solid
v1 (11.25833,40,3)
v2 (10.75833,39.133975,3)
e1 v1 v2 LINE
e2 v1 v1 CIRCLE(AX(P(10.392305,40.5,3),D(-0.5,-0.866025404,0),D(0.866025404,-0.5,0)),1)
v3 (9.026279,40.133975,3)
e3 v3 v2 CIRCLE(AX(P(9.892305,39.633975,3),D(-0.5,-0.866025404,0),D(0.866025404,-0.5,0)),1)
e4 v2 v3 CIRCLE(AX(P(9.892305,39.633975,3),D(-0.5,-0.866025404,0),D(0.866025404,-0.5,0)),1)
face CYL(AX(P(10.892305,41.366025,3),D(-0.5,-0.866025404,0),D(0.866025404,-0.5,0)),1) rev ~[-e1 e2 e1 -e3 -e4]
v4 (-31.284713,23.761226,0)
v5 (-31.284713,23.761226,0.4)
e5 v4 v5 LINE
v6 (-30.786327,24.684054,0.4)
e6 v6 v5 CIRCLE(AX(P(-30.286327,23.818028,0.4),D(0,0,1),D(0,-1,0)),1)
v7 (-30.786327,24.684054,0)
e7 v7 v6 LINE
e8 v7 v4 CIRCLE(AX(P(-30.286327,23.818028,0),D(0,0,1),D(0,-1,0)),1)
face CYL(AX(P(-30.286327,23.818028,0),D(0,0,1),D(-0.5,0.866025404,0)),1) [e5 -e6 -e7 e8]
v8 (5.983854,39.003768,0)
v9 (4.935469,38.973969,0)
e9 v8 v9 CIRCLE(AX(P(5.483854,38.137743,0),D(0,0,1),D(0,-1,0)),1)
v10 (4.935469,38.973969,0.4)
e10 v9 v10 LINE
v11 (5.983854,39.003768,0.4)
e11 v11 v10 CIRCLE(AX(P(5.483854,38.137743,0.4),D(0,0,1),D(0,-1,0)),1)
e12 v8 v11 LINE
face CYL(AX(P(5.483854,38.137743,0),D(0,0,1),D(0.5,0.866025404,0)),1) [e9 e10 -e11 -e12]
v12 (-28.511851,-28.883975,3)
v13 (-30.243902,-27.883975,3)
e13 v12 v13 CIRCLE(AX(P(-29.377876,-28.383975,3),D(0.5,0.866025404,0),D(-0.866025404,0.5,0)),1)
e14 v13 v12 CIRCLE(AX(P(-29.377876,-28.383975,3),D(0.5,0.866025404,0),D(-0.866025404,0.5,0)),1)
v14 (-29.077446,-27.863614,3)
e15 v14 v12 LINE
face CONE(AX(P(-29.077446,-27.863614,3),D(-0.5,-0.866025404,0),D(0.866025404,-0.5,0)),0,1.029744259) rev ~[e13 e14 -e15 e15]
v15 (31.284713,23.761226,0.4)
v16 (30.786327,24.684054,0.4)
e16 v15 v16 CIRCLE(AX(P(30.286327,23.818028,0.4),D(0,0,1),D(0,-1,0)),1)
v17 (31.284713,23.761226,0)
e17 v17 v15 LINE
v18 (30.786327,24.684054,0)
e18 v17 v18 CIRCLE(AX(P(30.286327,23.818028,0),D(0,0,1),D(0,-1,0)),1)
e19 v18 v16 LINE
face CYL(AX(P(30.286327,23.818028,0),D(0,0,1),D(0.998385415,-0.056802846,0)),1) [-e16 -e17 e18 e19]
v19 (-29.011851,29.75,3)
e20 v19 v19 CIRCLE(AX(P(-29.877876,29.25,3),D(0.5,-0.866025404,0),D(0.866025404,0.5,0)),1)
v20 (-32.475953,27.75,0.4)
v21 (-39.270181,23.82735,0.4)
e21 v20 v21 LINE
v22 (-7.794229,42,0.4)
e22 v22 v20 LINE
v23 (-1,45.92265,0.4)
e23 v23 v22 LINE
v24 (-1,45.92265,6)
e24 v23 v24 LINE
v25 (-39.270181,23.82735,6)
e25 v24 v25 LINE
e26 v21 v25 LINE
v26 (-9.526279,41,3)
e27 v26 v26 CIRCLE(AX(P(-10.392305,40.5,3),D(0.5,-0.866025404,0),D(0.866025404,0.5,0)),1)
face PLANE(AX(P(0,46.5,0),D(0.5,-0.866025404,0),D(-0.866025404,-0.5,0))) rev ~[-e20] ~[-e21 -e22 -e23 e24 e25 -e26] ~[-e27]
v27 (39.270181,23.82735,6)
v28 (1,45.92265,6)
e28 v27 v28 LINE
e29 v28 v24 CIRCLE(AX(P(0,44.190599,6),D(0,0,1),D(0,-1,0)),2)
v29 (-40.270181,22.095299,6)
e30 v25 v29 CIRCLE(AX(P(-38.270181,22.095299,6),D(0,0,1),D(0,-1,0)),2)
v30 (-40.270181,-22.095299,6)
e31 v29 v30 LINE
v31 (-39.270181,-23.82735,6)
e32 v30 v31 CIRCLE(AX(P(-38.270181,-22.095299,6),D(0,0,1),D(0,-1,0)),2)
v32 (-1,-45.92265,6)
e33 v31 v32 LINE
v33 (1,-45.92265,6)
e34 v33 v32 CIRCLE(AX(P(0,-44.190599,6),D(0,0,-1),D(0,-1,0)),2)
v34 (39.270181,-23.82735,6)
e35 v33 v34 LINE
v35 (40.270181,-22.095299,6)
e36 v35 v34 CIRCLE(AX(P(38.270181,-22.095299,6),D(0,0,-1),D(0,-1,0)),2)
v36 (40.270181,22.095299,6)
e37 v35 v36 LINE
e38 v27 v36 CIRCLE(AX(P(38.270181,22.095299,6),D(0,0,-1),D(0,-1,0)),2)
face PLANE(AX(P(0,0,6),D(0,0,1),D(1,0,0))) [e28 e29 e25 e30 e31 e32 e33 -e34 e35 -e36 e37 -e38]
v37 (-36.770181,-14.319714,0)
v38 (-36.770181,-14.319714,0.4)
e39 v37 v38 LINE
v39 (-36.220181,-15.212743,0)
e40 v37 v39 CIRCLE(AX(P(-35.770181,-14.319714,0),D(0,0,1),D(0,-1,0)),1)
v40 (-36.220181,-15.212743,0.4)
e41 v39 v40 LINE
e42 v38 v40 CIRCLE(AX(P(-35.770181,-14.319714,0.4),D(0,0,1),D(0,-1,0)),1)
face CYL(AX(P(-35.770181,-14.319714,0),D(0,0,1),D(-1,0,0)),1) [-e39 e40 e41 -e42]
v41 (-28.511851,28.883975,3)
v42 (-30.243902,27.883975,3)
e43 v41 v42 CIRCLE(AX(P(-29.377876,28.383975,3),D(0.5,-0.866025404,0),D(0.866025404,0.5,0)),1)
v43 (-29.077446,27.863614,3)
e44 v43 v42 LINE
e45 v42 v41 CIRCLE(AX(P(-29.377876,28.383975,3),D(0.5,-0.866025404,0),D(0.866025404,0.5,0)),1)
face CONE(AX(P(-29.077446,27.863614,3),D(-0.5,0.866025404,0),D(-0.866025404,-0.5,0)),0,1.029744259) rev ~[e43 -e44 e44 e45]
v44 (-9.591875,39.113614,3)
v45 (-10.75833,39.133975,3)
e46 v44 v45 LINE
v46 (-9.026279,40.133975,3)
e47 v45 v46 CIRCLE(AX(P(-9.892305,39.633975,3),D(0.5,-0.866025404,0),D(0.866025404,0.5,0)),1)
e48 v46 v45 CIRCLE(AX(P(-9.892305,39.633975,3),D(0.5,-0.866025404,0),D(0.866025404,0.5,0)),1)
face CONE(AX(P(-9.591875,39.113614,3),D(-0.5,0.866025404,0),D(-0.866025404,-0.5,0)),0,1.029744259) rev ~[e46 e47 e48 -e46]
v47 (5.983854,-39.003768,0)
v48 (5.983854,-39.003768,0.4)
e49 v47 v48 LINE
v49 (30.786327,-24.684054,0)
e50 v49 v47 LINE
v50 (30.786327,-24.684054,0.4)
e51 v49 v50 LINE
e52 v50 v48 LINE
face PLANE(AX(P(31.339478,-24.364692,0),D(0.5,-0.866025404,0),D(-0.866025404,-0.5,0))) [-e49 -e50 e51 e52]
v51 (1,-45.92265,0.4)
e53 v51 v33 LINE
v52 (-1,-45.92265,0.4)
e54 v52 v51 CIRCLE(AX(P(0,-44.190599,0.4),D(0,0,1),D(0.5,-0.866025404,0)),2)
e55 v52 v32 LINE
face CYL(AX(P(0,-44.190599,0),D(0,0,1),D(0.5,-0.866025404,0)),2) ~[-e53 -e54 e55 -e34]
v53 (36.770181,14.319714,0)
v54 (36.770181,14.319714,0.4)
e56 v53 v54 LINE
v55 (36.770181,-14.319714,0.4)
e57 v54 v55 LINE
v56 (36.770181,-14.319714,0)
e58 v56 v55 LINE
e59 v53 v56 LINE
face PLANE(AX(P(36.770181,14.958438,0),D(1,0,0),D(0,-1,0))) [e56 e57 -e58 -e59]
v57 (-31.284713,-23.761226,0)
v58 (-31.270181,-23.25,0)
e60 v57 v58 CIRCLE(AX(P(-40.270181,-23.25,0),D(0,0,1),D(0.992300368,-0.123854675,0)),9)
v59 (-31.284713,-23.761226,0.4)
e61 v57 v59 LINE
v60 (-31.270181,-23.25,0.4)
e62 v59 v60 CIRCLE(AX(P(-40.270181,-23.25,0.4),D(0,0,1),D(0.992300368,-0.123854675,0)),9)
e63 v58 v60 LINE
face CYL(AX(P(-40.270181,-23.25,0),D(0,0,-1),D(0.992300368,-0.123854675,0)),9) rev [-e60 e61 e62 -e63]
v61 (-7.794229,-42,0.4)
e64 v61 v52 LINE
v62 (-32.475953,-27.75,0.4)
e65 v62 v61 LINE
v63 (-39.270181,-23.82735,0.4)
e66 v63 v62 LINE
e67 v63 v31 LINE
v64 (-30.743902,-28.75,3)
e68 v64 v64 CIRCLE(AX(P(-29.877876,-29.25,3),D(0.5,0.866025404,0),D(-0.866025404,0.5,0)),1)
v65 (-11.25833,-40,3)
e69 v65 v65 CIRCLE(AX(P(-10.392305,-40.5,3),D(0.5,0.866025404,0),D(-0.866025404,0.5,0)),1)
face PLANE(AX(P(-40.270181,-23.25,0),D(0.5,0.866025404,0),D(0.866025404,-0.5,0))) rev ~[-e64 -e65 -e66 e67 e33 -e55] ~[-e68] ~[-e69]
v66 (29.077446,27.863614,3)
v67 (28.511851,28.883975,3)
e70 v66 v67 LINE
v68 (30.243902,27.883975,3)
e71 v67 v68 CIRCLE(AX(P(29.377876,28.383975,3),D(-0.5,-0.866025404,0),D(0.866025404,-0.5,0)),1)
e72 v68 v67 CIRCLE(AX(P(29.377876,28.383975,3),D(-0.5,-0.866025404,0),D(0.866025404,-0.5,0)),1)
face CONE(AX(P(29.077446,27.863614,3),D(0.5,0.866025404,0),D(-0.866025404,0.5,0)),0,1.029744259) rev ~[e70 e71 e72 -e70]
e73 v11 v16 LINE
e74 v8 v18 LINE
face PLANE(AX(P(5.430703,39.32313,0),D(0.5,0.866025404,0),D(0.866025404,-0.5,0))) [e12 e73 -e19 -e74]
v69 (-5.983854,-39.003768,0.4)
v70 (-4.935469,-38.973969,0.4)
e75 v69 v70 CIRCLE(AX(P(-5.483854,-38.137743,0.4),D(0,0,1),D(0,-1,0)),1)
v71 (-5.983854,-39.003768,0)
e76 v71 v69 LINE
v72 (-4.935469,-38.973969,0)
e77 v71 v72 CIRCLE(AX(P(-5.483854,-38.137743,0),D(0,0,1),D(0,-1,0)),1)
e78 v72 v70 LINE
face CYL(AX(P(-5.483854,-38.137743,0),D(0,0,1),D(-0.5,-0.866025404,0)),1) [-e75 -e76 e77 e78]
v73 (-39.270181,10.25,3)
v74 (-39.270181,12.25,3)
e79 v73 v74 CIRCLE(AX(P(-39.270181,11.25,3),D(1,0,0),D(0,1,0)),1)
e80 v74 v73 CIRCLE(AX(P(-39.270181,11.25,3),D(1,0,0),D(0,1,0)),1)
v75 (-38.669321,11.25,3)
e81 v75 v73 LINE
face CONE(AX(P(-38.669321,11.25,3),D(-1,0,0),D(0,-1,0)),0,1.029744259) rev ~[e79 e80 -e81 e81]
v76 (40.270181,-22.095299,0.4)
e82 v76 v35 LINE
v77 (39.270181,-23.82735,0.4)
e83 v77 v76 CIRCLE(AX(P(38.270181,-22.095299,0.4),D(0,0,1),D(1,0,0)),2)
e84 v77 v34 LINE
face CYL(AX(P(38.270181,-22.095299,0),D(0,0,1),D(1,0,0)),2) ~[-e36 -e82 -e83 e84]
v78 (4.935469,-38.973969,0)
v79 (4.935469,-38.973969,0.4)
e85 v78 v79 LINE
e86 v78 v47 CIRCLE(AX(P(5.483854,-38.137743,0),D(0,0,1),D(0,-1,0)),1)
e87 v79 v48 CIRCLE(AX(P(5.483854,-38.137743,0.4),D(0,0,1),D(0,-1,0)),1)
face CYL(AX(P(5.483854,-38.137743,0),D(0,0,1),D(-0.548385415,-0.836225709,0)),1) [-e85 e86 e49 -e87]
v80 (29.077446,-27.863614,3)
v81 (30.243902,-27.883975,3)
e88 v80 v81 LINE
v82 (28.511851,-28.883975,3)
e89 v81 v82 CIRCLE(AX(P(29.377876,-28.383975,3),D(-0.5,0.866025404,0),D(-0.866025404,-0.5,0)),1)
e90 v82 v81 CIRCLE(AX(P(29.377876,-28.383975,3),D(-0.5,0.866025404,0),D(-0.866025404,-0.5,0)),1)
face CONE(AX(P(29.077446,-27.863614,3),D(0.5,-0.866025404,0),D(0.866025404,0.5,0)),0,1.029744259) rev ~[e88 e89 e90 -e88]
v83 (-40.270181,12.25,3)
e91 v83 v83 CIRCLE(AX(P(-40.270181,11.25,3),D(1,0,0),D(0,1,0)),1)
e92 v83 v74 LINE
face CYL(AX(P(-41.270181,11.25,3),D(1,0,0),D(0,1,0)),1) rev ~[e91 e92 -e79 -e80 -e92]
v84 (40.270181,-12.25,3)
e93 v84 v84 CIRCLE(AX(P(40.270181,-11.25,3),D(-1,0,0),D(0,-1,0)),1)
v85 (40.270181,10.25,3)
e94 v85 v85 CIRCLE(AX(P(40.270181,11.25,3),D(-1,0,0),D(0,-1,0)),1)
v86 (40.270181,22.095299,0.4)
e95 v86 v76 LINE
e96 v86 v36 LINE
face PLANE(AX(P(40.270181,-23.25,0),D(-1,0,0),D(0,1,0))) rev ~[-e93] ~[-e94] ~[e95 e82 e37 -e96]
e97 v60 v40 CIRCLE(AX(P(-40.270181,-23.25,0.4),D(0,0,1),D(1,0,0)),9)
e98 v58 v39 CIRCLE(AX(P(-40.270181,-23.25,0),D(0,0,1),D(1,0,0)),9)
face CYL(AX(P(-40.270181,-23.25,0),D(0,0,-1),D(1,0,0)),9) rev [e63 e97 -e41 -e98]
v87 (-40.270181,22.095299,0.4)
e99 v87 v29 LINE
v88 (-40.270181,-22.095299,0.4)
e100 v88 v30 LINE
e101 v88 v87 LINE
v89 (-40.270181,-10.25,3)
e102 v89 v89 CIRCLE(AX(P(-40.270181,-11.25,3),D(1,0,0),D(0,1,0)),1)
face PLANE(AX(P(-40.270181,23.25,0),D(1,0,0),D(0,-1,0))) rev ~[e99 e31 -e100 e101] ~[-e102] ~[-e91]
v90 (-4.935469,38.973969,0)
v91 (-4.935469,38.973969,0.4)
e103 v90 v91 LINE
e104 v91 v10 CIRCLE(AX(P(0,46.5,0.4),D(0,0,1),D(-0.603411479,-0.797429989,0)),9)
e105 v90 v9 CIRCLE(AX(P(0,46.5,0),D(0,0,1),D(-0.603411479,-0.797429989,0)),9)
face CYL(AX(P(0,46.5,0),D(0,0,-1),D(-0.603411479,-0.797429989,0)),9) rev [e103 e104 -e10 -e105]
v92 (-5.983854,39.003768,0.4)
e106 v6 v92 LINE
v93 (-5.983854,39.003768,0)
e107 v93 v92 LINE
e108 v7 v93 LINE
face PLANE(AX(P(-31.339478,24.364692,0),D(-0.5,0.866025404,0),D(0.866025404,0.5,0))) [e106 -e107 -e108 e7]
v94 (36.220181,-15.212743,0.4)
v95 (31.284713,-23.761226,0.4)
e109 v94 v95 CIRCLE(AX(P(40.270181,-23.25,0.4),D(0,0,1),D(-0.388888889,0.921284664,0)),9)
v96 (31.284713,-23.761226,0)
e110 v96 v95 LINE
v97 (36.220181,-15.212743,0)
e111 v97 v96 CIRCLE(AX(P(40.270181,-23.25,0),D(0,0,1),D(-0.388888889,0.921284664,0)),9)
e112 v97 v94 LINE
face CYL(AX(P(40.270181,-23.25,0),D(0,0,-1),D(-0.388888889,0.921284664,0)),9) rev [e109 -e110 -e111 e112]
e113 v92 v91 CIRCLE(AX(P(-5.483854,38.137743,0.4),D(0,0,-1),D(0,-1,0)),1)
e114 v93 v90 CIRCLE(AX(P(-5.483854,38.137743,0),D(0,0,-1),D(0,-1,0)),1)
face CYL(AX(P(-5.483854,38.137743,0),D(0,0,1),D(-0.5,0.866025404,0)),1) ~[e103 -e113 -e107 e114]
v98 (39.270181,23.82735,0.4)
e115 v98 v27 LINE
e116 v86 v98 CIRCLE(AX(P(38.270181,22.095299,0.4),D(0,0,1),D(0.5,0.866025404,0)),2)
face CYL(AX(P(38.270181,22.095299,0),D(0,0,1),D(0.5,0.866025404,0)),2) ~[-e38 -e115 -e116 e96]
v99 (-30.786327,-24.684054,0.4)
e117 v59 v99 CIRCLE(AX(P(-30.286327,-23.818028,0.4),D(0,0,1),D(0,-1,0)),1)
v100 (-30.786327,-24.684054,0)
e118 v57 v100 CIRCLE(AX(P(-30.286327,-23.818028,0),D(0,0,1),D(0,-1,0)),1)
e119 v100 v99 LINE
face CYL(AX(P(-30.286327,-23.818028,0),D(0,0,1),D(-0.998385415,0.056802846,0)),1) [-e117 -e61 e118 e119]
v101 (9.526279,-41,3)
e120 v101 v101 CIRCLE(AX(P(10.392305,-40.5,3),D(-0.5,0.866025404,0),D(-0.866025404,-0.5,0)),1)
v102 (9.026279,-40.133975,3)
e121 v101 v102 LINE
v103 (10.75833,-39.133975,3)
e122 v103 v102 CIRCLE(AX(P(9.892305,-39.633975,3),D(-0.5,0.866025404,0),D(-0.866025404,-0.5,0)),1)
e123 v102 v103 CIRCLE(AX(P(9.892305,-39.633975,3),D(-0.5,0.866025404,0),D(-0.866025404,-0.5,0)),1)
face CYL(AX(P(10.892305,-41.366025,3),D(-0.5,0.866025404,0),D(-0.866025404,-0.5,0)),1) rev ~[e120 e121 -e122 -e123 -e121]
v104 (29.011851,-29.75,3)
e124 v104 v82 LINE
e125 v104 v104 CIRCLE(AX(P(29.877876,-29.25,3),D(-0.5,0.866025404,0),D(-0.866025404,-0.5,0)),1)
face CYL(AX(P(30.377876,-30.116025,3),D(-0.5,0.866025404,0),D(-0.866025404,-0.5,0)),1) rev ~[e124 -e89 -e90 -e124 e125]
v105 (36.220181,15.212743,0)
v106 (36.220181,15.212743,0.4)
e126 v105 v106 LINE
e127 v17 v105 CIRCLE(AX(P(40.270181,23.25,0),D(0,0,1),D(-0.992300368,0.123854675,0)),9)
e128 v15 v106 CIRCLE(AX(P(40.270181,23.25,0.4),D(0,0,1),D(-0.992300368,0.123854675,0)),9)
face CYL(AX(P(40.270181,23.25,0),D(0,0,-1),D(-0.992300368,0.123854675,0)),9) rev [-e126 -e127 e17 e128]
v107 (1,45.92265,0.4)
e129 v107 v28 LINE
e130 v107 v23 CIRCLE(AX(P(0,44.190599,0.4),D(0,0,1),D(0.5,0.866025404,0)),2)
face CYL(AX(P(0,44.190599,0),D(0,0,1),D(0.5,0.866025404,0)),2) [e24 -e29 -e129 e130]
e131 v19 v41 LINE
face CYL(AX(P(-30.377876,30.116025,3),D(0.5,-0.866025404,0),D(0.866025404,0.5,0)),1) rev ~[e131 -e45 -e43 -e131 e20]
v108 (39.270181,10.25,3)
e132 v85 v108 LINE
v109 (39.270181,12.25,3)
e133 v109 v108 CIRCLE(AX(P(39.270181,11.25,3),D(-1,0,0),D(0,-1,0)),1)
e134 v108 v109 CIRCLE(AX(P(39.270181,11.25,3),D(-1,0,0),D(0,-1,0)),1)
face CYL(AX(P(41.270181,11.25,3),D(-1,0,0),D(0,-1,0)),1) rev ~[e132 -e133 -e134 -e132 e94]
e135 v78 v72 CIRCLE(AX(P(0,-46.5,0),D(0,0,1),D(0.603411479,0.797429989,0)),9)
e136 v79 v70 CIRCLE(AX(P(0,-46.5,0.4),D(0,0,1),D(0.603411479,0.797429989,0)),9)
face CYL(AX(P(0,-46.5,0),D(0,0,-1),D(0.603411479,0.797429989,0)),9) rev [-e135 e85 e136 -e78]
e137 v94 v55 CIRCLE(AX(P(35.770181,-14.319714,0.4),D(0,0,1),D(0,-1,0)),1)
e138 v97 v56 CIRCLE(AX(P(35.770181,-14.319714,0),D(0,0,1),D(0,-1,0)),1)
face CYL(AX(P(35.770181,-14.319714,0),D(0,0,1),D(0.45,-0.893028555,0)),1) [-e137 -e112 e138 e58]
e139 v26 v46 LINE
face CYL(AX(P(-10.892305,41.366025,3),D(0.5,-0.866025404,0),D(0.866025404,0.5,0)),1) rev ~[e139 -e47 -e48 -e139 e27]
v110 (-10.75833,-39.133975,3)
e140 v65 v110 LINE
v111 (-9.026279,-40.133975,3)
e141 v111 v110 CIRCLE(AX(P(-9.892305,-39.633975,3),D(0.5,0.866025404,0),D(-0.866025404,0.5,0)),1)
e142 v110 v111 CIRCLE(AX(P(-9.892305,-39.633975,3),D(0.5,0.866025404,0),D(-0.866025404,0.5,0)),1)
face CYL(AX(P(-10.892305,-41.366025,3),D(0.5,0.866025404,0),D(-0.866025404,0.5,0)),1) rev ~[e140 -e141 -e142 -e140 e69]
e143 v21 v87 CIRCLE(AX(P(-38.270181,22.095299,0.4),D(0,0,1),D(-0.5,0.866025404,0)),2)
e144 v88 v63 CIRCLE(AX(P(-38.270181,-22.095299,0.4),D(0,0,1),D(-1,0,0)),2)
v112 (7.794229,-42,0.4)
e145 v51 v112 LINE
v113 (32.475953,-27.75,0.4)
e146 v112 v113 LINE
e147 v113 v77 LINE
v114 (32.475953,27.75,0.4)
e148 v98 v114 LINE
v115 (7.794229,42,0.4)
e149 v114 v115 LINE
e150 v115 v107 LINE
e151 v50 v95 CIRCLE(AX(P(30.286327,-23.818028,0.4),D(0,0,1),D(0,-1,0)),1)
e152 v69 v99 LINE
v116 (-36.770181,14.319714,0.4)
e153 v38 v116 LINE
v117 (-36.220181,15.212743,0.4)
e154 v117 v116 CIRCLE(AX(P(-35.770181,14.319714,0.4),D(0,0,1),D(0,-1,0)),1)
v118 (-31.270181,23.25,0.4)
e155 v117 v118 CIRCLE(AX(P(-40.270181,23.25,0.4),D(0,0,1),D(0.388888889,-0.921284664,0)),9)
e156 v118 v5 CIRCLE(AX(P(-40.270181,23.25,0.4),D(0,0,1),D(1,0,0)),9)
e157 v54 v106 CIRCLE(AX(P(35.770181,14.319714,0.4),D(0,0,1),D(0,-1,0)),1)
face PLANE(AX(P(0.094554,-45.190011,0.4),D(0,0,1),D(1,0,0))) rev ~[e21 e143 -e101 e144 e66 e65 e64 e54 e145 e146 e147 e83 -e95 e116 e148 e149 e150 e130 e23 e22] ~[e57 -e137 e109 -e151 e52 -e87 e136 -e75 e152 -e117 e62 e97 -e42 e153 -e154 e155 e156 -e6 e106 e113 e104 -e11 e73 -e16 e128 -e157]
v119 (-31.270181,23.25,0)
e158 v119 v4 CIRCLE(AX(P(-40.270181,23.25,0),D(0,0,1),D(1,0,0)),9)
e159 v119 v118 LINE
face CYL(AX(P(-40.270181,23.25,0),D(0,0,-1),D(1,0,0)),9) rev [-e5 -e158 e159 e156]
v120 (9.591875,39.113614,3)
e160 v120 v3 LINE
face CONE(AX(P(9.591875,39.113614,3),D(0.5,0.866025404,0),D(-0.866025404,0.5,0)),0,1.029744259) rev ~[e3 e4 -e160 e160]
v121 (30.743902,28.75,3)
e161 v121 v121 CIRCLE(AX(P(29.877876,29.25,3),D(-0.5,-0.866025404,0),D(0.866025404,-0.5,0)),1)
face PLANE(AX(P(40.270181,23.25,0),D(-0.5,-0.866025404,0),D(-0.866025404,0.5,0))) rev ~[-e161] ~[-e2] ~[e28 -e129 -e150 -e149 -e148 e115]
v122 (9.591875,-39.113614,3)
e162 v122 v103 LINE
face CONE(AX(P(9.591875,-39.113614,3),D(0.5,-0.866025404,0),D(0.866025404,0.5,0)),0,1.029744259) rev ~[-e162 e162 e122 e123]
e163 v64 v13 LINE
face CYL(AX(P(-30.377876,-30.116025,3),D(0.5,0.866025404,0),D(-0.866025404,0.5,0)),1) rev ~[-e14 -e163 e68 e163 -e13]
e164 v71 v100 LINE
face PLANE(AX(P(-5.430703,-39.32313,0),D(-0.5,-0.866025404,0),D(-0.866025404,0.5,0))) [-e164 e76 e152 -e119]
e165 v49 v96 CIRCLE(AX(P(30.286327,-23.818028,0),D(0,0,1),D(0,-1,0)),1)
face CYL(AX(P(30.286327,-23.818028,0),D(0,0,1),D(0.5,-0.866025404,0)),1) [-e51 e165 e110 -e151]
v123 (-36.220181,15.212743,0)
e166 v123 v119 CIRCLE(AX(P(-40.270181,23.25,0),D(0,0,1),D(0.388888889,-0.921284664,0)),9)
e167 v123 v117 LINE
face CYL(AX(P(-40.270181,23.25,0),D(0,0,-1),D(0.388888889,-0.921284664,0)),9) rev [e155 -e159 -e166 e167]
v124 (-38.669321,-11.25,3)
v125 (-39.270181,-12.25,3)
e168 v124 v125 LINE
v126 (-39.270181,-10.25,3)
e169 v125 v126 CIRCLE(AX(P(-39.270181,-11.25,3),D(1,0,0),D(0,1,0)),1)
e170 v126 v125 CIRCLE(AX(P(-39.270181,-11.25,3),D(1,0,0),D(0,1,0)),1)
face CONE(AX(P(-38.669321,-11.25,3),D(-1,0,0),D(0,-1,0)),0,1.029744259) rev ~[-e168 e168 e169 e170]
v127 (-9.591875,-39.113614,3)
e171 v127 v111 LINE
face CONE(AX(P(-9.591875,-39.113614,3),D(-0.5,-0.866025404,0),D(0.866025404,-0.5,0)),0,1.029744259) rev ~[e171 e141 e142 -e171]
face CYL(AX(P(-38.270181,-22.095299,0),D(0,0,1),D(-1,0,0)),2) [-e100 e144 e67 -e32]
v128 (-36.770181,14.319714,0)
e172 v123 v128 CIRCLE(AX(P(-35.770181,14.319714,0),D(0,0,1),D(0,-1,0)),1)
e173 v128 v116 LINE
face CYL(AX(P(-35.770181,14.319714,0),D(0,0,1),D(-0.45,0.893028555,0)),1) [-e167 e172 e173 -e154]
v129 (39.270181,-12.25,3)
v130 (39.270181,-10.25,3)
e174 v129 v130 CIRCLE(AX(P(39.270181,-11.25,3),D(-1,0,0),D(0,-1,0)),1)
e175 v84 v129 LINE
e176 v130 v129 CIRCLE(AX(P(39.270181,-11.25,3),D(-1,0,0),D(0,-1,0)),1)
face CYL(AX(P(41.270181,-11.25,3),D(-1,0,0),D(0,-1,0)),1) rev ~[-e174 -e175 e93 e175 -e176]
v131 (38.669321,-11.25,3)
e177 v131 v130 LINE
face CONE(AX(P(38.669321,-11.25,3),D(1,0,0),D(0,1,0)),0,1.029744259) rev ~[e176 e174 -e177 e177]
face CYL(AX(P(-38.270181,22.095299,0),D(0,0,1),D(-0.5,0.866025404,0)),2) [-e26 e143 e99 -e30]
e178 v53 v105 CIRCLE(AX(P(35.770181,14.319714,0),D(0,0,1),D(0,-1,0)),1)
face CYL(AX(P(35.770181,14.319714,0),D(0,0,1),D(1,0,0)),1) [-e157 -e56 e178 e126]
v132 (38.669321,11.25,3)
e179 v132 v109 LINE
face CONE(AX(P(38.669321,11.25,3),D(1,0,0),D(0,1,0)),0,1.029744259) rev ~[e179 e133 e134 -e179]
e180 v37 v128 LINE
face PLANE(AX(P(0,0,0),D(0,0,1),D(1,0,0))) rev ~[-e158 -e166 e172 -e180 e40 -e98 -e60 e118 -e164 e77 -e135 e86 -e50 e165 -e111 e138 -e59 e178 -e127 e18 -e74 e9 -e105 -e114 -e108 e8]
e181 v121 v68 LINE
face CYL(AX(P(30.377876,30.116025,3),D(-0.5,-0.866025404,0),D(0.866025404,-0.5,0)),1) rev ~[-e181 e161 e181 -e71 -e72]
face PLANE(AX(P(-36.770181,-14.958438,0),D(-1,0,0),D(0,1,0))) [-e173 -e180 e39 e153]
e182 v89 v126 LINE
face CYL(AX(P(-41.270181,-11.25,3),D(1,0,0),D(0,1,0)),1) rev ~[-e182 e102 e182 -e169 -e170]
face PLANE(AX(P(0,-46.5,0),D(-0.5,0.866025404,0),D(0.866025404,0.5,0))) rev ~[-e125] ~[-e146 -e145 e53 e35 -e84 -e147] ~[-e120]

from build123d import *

# Parameters (mm, degrees)
F1_DEPTH       = 6
F3_D           = 2
F3_DEPTH       = 1
F3_TIP         = 0.600860619
F9_D           = 2
F9_DEPTH       = 1
F9_TIP         = 0.600860619
F9_ON_F4_D     = 2
F9_ON_F4_DEPTH = 1
F9_ON_F4_TIP   = 0.600860619
F9_ON_F5_D     = 2
F9_ON_F5_DEPTH = 1
F9_ON_F5_TIP   = 0.600860619
F9_ON_F6_D     = 2
F9_ON_F6_DEPTH = 1
F9_ON_F6_TIP   = 0.600860619
F9_ON_F7_D     = 2
F9_ON_F7_DEPTH = 1
F9_ON_F7_TIP   = 0.600860619
F10_R          = 2
F12_DEPTH      = 0.4
F13_R          = 1


with BuildPart() as f1:
    # F0 (on Top) → F1 (new body)
    with BuildSketch(Plane.XY):
        Polygon((40.270181276, 23.25), (0, 46.5), (-40.270181276, 23.25), (-40.270181276, -23.25), (0, -46.5), (40.270181276, -23.25), align=None)
    extrude(amount=F1_DEPTH)

    # F3
    with Locations(Plane(origin=(-40.270181276, 0, 0), x_dir=(0, -1, 0), z_dir=(-1, 0, 0))):
        with Locations((-11.25, 3), (11.25, 3)):
            Hole(F3_D / 2, depth=F3_DEPTH)
            with Locations((0, 0, -(F3_DEPTH + F3_TIP / 2))):  # 118° drill point
                Cone(0, F3_D / 2, F3_TIP, mode=Mode.SUBTRACT)

    # F9
    with Locations(Plane(origin=(-20.135090638, 34.875, 0), x_dir=(-0.8660254038, -0.5, 0), z_dir=(-0.5, 0.8660254038, 0))):
        with Locations((-11.25, 3), (11.25, 3)):
            Hole(F9_D / 2, depth=F9_DEPTH)
            with Locations((0, 0, -(F9_DEPTH + F9_TIP / 2))):  # 118° drill point
                Cone(0, F9_D / 2, F9_TIP, mode=Mode.SUBTRACT)

    # F9 on F4
    with Locations(Plane(origin=(20.135090638, 34.875, 0), x_dir=(-0.8660254038, 0.5, 0), z_dir=(0.5, 0.8660254038, 0))):
        with Locations((11.25, 3), (-11.25, 3)):
            Hole(F9_ON_F4_D / 2, depth=F9_ON_F4_DEPTH)
            with Locations((0, 0, -(F9_ON_F4_DEPTH + F9_ON_F4_TIP / 2))):  # 118° drill point
                Cone(0, F9_ON_F4_D / 2, F9_ON_F4_TIP, mode=Mode.SUBTRACT)

    # F9 on F5
    with Locations(Plane.YZ.offset(40.270181276)):
        with Locations((11.25, 3), (-11.25, 3)):
            Hole(F9_ON_F5_D / 2, depth=F9_ON_F5_DEPTH)
            with Locations((0, 0, -(F9_ON_F5_DEPTH + F9_ON_F5_TIP / 2))):  # 118° drill point
                Cone(0, F9_ON_F5_D / 2, F9_ON_F5_TIP, mode=Mode.SUBTRACT)

    # F9 on F6
    with Locations(Plane(origin=(20.135090638, -34.875, 0), x_dir=(0.8660254038, 0.5, 0), z_dir=(0.5, -0.8660254038, 0))):
        with Locations((11.25, 3), (-11.25, 3)):
            Hole(F9_ON_F6_D / 2, depth=F9_ON_F6_DEPTH)
            with Locations((0, 0, -(F9_ON_F6_DEPTH + F9_ON_F6_TIP / 2))):  # 118° drill point
                Cone(0, F9_ON_F6_D / 2, F9_ON_F6_TIP, mode=Mode.SUBTRACT)

    # F9 on F7
    with Locations(Plane(origin=(-20.135090638, -34.875, 0), x_dir=(0.8660254038, -0.5, 0), z_dir=(-0.5, -0.8660254038, 0))):
        with Locations((-11.25, 3), (11.25, 3)):
            Hole(F9_ON_F7_D / 2, depth=F9_ON_F7_DEPTH)
            with Locations((0, 0, -(F9_ON_F7_DEPTH + F9_ON_F7_TIP / 2))):  # 118° drill point
                Cone(0, F9_ON_F7_D / 2, F9_ON_F7_TIP, mode=Mode.SUBTRACT)

    # F10
    f10_edges = [f1.edges().sort_by_distance(p)[0] for p in [
        (-40.270181, 23.25, 3),
        (0, 46.5, 3),
        (40.270181, 23.25, 3),
        (40.270181, -23.25, 3),
        (-40.270181, -23.25, 3),
        (0, -46.5, 3),
    ]]
    fillet(f10_edges, radius=F10_R)

    # F11 (on Top) → F12 (cut)
    with BuildSketch(Plane.XY):
        with BuildLine():
            ThreePointArc((-7.7942286341, -42), (-2.3293714059, -55.1933324366), (9, -46.5))
            ThreePointArc((9, -46.5), (8.6933324366, -44.1706285941), (7.7942286341, -42))
            Line((7.7942286341, -42), (2.8145825623, -44.875))
            Line((2.8145825623, -44.875), (1.0645825623, -41.8439110868))
            Line((1.0645825623, -41.8439110868), (5.4307033082, -39.3231300988))
            ThreePointArc((5.4307033082, -39.3231300988), (0, -37.5), (-5.4307033082, -39.3231300988))
            Line((-5.4307033082, -39.3231300988), (-1.0645825623, -41.8439110868))
            Line((-1.0645825623, -41.8439110868), (-2.8145825623, -44.875))
            Line((-2.8145825623, -44.875), (-7.7942286341, -42))
        make_face()
        with BuildLine():
            Line((2.8145825623, -44.875), (7.7942286341, -42))
            ThreePointArc((7.7942286341, -42), (6.7465631499, -40.5431647946), (5.4307033082, -39.3231300988))
            Line((5.4307033082, -39.3231300988), (1.0645825623, -41.8439110868))
            Line((1.0645825623, -41.8439110868), (2.8145825623, -44.875))
        make_face()
        with BuildLine():
            ThreePointArc((5.4307033082, -39.3231300988), (6.7465631499, -40.5431647946), (7.7942286341, -42))
            Line((7.7942286341, -42), (32.4759526419, -27.75))
            ThreePointArc((32.4759526419, -27.75), (31.738129087, -26.1142774734), (31.3394779678, -24.3646920747))
            Line((31.3394779678, -24.3646920747), (5.4307033082, -39.3231300988))
        make_face()
        with BuildLine():
            Line((-32.4759526419, -27.75), (-7.7942286341, -42))
            ThreePointArc((-7.7942286341, -42), (-6.7465631499, -40.5431647946), (-5.4307033082, -39.3231300988))
            Line((-5.4307033082, -39.3231300988), (-31.3394779678, -24.3646920747))
            ThreePointArc((-31.3394779678, -24.3646920747), (-31.738129087, -26.1142774734), (-32.4759526419, -27.75))
        make_face()
        with BuildLine():
            ThreePointArc((-5.4307033082, -39.3231300988), (-6.7465631499, -40.5431647946), (-7.7942286341, -42))
            Line((-7.7942286341, -42), (-2.8145825623, -44.875))
            Line((-2.8145825623, -44.875), (-1.0645825623, -41.8439110868))
            Line((-1.0645825623, -41.8439110868), (-5.4307033082, -39.3231300988))
        make_face()
        with BuildLine():
            Line((37.4555987137, -24.875), (32.4759526419, -27.75))
            ThreePointArc((32.4759526419, -27.75), (42.5995526819, -31.9433324366), (49.270181276, -23.25))
            ThreePointArc((49.270181276, -23.25), (46.6341423067, -16.8860389693), (40.270181276, -14.25))
            Line((40.270181276, -14.25), (40.270181276, -20))
            Line((40.270181276, -20), (36.770181276, -20))
            Line((36.770181276, -20), (36.770181276, -14.9584380241))
            ThreePointArc((36.770181276, -14.9584380241), (32.4759526419, -18.75), (31.3394779678, -24.3646920747))
            Line((31.3394779678, -24.3646920747), (35.7055987137, -21.8439110868))
            Line((35.7055987137, -21.8439110868), (37.4555987137, -24.875))
        make_face()
        with BuildLine():
            ThreePointArc((31.3394779678, -24.3646920747), (31.738129087, -26.1142774734), (32.4759526419, -27.75))
            Line((32.4759526419, -27.75), (37.4555987137, -24.875))
            Line((37.4555987137, -24.875), (35.7055987137, -21.8439110868))
            Line((35.7055987137, -21.8439110868), (31.3394779678, -24.3646920747))
        make_face()
        with BuildLine():
            Line((-37.4555987137, -24.875), (-32.4759526419, -27.75))
            ThreePointArc((-32.4759526419, -27.75), (-31.738129087, -26.1142774734), (-31.3394779678, -24.3646920747))
            Line((-31.3394779678, -24.3646920747), (-35.7055987137, -21.8439110868))
            Line((-35.7055987137, -21.8439110868), (-37.4555987137, -24.875))
        make_face()
        with BuildLine():
            ThreePointArc((-40.270181276, -14.25), (-48.06440991, -27.75), (-32.4759526419, -27.75))
            Line((-32.4759526419, -27.75), (-37.4555987137, -24.875))
            Line((-37.4555987137, -24.875), (-35.7055987137, -21.8439110868))
            Line((-35.7055987137, -21.8439110868), (-31.3394779678, -24.3646920747))
            ThreePointArc((-31.3394779678, -24.3646920747), (-31.2875221548, -23.8084219849), (-31.270181276, -23.25))
            ThreePointArc((-31.270181276, -23.25), (-32.770181276, -18.2750628145), (-36.770181276, -14.9584380241))
            Line((-36.770181276, -14.9584380241), (-36.770181276, -20))
            Line((-36.770181276, -20), (-40.270181276, -20))
            Line((-40.270181276, -20), (-40.270181276, -14.25))
        make_face()
        with BuildLine():
            Line((-40.270181276, 14.25), (-40.270181276, -14.25))
            ThreePointArc((-40.270181276, -14.25), (-38.4846922369, -14.4288873212), (-36.770181276, -14.9584380241))
            Line((-36.770181276, -14.9584380241), (-36.770181276, 14.9584380241))
            ThreePointArc((-36.770181276, 14.9584380241), (-38.4846922369, 14.4288873212), (-40.270181276, 14.25))
        make_face()
        with BuildLine():
            ThreePointArc((-36.770181276, -14.9584380241), (-38.4846922369, -14.4288873212), (-40.270181276, -14.25))
            Line((-40.270181276, -14.25), (-40.270181276, -20))
            Line((-40.270181276, -20), (-36.770181276, -20))
            Line((-36.770181276, -20), (-36.770181276, -14.9584380241))
        make_face()
        with BuildLine():
            Line((36.770181276, 14.9584380241), (36.770181276, -14.9584380241))
            ThreePointArc((36.770181276, -14.9584380241), (38.4846922369, -14.4288873212), (40.270181276, -14.25))
            Line((40.270181276, -14.25), (40.270181276, 14.25))
            ThreePointArc((40.270181276, 14.25), (38.4846922369, 14.4288873212), (36.770181276, 14.9584380241))
        make_face()
        with BuildLine():
            ThreePointArc((40.270181276, -14.25), (38.4846922369, -14.4288873212), (36.770181276, -14.9584380241))
            Line((36.770181276, -14.9584380241), (36.770181276, -20))
            Line((36.770181276, -20), (40.270181276, -20))
            Line((40.270181276, -20), (40.270181276, -14.25))
        make_face()
        with BuildLine():
            Line((-40.270181276, 20), (-40.270181276, 14.25))
            ThreePointArc((-40.270181276, 14.25), (-38.4846922369, 14.4288873212), (-36.770181276, 14.9584380241))
            Line((-36.770181276, 14.9584380241), (-36.770181276, 20))
            Line((-36.770181276, 20), (-40.270181276, 20))
        make_face()
        with BuildLine():
            ThreePointArc((-32.4759526419, 27.75), (-48.06440991, 27.75), (-40.270181276, 14.25))
            Line((-40.270181276, 14.25), (-40.270181276, 20))
            Line((-40.270181276, 20), (-36.770181276, 20))
            Line((-36.770181276, 20), (-36.770181276, 14.9584380241))
            ThreePointArc((-36.770181276, 14.9584380241), (-32.770181276, 18.2750628145), (-31.270181276, 23.25))
            ThreePointArc((-31.270181276, 23.25), (-31.2875221548, 23.8084219849), (-31.3394779678, 24.3646920747))
            Line((-31.3394779678, 24.3646920747), (-35.7055987137, 21.8439110868))
            Line((-35.7055987137, 21.8439110868), (-37.4555987137, 24.875))
            Line((-37.4555987137, 24.875), (-32.4759526419, 27.75))
        make_face()
        with BuildLine():
            Line((36.770181276, 20), (36.770181276, 14.9584380241))
            ThreePointArc((36.770181276, 14.9584380241), (38.4846922369, 14.4288873212), (40.270181276, 14.25))
            Line((40.270181276, 14.25), (40.270181276, 20))
            Line((40.270181276, 20), (36.770181276, 20))
        make_face()
        with BuildLine():
            ThreePointArc((31.3394779678, 24.3646920747), (32.4759526419, 18.75), (36.770181276, 14.9584380241))
            Line((36.770181276, 14.9584380241), (36.770181276, 20))
            Line((36.770181276, 20), (40.270181276, 20))
            Line((40.270181276, 20), (40.270181276, 14.25))
            ThreePointArc((40.270181276, 14.25), (46.6341423067, 16.8860389693), (49.270181276, 23.25))
            ThreePointArc((49.270181276, 23.25), (42.5995526819, 31.9433324366), (32.4759526419, 27.75))
            Line((32.4759526419, 27.75), (37.4555987137, 24.875))
            Line((37.4555987137, 24.875), (35.7055987137, 21.8439110868))
            Line((35.7055987137, 21.8439110868), (31.3394779678, 24.3646920747))
        make_face()
        with BuildLine():
            Line((-7.7942286341, 42), (-32.4759526419, 27.75))
            ThreePointArc((-32.4759526419, 27.75), (-31.738129087, 26.1142774734), (-31.3394779678, 24.3646920747))
            Line((-31.3394779678, 24.3646920747), (-5.4307033082, 39.3231300988))
            ThreePointArc((-5.4307033082, 39.3231300988), (-6.7465631499, 40.5431647946), (-7.7942286341, 42))
        make_face()
        with BuildLine():
            ThreePointArc((-31.3394779678, 24.3646920747), (-31.738129087, 26.1142774734), (-32.4759526419, 27.75))
            Line((-32.4759526419, 27.75), (-37.4555987137, 24.875))
            Line((-37.4555987137, 24.875), (-35.7055987137, 21.8439110868))
            Line((-35.7055987137, 21.8439110868), (-31.3394779678, 24.3646920747))
        make_face()
        with BuildLine():
            Line((5.4307033082, 39.3231300988), (31.3394779678, 24.3646920747))
            ThreePointArc((31.3394779678, 24.3646920747), (31.738129087, 26.1142774734), (32.4759526419, 27.75))
            Line((32.4759526419, 27.75), (7.7942286341, 42))
            ThreePointArc((7.7942286341, 42), (6.7465631499, 40.5431647946), (5.4307033082, 39.3231300988))
        make_face()
        with BuildLine():
            ThreePointArc((32.4759526419, 27.75), (31.738129087, 26.1142774734), (31.3394779678, 24.3646920747))
            Line((31.3394779678, 24.3646920747), (35.7055987137, 21.8439110868))
            Line((35.7055987137, 21.8439110868), (37.4555987137, 24.875))
            Line((37.4555987137, 24.875), (32.4759526419, 27.75))
        make_face()
        with BuildLine():
            Line((-2.8145825623, 44.875), (-7.7942286341, 42))
            ThreePointArc((-7.7942286341, 42), (-6.7465631499, 40.5431647946), (-5.4307033082, 39.3231300988))
            Line((-5.4307033082, 39.3231300988), (-1.0645825623, 41.8439110868))
            Line((-1.0645825623, 41.8439110868), (-2.8145825623, 44.875))
        make_face()
        with BuildLine():
            ThreePointArc((9, 46.5), (-2.3293714059, 55.1933324366), (-7.7942286341, 42))
            Line((-7.7942286341, 42), (-2.8145825623, 44.875))
            Line((-2.8145825623, 44.875), (-1.0645825623, 41.8439110868))
            Line((-1.0645825623, 41.8439110868), (-5.4307033082, 39.3231300988))
            ThreePointArc((-5.4307033082, 39.3231300988), (0, 37.5), (5.4307033082, 39.3231300988))
            Line((5.4307033082, 39.3231300988), (1.0645825623, 41.8439110868))
            Line((1.0645825623, 41.8439110868), (2.8145825623, 44.875))
            Line((2.8145825623, 44.875), (7.7942286341, 42))
            ThreePointArc((7.7942286341, 42), (8.6933324366, 44.1706285941), (9, 46.5))
        make_face()
        with BuildLine():
            Line((1.0645825623, 41.8439110868), (5.4307033082, 39.3231300988))
            ThreePointArc((5.4307033082, 39.3231300988), (6.7465631499, 40.5431647946), (7.7942286341, 42))
            Line((7.7942286341, 42), (2.8145825623, 44.875))
            Line((2.8145825623, 44.875), (1.0645825623, 41.8439110868))
        make_face()
    extrude(amount=F12_DEPTH, mode=Mode.SUBTRACT)

    # F13
    f13_edges = [f1.edges().sort_by_distance(p)[0] for p in [
        (36.770181, 14.958438, 0.2),
        (36.770181, -14.958438, 0.2),
        (31.339478, -24.364692, 0.2),
        (5.430703, -39.32313, 0.2),
        (-5.430703, -39.32313, 0.2),
        (-31.339478, -24.364692, 0.2),
        (-36.770181, -14.958438, 0.2),
        (-36.770181, 14.958438, 0.2),
        (-31.339478, 24.364692, 0.2),
        (-5.430703, 39.32313, 0.2),
        (5.430703, 39.32313, 0.2),
        (31.339478, 24.364692, 0.2),
    ]]
    fillet(f13_edges, radius=F13_R)


solid = f1.part
